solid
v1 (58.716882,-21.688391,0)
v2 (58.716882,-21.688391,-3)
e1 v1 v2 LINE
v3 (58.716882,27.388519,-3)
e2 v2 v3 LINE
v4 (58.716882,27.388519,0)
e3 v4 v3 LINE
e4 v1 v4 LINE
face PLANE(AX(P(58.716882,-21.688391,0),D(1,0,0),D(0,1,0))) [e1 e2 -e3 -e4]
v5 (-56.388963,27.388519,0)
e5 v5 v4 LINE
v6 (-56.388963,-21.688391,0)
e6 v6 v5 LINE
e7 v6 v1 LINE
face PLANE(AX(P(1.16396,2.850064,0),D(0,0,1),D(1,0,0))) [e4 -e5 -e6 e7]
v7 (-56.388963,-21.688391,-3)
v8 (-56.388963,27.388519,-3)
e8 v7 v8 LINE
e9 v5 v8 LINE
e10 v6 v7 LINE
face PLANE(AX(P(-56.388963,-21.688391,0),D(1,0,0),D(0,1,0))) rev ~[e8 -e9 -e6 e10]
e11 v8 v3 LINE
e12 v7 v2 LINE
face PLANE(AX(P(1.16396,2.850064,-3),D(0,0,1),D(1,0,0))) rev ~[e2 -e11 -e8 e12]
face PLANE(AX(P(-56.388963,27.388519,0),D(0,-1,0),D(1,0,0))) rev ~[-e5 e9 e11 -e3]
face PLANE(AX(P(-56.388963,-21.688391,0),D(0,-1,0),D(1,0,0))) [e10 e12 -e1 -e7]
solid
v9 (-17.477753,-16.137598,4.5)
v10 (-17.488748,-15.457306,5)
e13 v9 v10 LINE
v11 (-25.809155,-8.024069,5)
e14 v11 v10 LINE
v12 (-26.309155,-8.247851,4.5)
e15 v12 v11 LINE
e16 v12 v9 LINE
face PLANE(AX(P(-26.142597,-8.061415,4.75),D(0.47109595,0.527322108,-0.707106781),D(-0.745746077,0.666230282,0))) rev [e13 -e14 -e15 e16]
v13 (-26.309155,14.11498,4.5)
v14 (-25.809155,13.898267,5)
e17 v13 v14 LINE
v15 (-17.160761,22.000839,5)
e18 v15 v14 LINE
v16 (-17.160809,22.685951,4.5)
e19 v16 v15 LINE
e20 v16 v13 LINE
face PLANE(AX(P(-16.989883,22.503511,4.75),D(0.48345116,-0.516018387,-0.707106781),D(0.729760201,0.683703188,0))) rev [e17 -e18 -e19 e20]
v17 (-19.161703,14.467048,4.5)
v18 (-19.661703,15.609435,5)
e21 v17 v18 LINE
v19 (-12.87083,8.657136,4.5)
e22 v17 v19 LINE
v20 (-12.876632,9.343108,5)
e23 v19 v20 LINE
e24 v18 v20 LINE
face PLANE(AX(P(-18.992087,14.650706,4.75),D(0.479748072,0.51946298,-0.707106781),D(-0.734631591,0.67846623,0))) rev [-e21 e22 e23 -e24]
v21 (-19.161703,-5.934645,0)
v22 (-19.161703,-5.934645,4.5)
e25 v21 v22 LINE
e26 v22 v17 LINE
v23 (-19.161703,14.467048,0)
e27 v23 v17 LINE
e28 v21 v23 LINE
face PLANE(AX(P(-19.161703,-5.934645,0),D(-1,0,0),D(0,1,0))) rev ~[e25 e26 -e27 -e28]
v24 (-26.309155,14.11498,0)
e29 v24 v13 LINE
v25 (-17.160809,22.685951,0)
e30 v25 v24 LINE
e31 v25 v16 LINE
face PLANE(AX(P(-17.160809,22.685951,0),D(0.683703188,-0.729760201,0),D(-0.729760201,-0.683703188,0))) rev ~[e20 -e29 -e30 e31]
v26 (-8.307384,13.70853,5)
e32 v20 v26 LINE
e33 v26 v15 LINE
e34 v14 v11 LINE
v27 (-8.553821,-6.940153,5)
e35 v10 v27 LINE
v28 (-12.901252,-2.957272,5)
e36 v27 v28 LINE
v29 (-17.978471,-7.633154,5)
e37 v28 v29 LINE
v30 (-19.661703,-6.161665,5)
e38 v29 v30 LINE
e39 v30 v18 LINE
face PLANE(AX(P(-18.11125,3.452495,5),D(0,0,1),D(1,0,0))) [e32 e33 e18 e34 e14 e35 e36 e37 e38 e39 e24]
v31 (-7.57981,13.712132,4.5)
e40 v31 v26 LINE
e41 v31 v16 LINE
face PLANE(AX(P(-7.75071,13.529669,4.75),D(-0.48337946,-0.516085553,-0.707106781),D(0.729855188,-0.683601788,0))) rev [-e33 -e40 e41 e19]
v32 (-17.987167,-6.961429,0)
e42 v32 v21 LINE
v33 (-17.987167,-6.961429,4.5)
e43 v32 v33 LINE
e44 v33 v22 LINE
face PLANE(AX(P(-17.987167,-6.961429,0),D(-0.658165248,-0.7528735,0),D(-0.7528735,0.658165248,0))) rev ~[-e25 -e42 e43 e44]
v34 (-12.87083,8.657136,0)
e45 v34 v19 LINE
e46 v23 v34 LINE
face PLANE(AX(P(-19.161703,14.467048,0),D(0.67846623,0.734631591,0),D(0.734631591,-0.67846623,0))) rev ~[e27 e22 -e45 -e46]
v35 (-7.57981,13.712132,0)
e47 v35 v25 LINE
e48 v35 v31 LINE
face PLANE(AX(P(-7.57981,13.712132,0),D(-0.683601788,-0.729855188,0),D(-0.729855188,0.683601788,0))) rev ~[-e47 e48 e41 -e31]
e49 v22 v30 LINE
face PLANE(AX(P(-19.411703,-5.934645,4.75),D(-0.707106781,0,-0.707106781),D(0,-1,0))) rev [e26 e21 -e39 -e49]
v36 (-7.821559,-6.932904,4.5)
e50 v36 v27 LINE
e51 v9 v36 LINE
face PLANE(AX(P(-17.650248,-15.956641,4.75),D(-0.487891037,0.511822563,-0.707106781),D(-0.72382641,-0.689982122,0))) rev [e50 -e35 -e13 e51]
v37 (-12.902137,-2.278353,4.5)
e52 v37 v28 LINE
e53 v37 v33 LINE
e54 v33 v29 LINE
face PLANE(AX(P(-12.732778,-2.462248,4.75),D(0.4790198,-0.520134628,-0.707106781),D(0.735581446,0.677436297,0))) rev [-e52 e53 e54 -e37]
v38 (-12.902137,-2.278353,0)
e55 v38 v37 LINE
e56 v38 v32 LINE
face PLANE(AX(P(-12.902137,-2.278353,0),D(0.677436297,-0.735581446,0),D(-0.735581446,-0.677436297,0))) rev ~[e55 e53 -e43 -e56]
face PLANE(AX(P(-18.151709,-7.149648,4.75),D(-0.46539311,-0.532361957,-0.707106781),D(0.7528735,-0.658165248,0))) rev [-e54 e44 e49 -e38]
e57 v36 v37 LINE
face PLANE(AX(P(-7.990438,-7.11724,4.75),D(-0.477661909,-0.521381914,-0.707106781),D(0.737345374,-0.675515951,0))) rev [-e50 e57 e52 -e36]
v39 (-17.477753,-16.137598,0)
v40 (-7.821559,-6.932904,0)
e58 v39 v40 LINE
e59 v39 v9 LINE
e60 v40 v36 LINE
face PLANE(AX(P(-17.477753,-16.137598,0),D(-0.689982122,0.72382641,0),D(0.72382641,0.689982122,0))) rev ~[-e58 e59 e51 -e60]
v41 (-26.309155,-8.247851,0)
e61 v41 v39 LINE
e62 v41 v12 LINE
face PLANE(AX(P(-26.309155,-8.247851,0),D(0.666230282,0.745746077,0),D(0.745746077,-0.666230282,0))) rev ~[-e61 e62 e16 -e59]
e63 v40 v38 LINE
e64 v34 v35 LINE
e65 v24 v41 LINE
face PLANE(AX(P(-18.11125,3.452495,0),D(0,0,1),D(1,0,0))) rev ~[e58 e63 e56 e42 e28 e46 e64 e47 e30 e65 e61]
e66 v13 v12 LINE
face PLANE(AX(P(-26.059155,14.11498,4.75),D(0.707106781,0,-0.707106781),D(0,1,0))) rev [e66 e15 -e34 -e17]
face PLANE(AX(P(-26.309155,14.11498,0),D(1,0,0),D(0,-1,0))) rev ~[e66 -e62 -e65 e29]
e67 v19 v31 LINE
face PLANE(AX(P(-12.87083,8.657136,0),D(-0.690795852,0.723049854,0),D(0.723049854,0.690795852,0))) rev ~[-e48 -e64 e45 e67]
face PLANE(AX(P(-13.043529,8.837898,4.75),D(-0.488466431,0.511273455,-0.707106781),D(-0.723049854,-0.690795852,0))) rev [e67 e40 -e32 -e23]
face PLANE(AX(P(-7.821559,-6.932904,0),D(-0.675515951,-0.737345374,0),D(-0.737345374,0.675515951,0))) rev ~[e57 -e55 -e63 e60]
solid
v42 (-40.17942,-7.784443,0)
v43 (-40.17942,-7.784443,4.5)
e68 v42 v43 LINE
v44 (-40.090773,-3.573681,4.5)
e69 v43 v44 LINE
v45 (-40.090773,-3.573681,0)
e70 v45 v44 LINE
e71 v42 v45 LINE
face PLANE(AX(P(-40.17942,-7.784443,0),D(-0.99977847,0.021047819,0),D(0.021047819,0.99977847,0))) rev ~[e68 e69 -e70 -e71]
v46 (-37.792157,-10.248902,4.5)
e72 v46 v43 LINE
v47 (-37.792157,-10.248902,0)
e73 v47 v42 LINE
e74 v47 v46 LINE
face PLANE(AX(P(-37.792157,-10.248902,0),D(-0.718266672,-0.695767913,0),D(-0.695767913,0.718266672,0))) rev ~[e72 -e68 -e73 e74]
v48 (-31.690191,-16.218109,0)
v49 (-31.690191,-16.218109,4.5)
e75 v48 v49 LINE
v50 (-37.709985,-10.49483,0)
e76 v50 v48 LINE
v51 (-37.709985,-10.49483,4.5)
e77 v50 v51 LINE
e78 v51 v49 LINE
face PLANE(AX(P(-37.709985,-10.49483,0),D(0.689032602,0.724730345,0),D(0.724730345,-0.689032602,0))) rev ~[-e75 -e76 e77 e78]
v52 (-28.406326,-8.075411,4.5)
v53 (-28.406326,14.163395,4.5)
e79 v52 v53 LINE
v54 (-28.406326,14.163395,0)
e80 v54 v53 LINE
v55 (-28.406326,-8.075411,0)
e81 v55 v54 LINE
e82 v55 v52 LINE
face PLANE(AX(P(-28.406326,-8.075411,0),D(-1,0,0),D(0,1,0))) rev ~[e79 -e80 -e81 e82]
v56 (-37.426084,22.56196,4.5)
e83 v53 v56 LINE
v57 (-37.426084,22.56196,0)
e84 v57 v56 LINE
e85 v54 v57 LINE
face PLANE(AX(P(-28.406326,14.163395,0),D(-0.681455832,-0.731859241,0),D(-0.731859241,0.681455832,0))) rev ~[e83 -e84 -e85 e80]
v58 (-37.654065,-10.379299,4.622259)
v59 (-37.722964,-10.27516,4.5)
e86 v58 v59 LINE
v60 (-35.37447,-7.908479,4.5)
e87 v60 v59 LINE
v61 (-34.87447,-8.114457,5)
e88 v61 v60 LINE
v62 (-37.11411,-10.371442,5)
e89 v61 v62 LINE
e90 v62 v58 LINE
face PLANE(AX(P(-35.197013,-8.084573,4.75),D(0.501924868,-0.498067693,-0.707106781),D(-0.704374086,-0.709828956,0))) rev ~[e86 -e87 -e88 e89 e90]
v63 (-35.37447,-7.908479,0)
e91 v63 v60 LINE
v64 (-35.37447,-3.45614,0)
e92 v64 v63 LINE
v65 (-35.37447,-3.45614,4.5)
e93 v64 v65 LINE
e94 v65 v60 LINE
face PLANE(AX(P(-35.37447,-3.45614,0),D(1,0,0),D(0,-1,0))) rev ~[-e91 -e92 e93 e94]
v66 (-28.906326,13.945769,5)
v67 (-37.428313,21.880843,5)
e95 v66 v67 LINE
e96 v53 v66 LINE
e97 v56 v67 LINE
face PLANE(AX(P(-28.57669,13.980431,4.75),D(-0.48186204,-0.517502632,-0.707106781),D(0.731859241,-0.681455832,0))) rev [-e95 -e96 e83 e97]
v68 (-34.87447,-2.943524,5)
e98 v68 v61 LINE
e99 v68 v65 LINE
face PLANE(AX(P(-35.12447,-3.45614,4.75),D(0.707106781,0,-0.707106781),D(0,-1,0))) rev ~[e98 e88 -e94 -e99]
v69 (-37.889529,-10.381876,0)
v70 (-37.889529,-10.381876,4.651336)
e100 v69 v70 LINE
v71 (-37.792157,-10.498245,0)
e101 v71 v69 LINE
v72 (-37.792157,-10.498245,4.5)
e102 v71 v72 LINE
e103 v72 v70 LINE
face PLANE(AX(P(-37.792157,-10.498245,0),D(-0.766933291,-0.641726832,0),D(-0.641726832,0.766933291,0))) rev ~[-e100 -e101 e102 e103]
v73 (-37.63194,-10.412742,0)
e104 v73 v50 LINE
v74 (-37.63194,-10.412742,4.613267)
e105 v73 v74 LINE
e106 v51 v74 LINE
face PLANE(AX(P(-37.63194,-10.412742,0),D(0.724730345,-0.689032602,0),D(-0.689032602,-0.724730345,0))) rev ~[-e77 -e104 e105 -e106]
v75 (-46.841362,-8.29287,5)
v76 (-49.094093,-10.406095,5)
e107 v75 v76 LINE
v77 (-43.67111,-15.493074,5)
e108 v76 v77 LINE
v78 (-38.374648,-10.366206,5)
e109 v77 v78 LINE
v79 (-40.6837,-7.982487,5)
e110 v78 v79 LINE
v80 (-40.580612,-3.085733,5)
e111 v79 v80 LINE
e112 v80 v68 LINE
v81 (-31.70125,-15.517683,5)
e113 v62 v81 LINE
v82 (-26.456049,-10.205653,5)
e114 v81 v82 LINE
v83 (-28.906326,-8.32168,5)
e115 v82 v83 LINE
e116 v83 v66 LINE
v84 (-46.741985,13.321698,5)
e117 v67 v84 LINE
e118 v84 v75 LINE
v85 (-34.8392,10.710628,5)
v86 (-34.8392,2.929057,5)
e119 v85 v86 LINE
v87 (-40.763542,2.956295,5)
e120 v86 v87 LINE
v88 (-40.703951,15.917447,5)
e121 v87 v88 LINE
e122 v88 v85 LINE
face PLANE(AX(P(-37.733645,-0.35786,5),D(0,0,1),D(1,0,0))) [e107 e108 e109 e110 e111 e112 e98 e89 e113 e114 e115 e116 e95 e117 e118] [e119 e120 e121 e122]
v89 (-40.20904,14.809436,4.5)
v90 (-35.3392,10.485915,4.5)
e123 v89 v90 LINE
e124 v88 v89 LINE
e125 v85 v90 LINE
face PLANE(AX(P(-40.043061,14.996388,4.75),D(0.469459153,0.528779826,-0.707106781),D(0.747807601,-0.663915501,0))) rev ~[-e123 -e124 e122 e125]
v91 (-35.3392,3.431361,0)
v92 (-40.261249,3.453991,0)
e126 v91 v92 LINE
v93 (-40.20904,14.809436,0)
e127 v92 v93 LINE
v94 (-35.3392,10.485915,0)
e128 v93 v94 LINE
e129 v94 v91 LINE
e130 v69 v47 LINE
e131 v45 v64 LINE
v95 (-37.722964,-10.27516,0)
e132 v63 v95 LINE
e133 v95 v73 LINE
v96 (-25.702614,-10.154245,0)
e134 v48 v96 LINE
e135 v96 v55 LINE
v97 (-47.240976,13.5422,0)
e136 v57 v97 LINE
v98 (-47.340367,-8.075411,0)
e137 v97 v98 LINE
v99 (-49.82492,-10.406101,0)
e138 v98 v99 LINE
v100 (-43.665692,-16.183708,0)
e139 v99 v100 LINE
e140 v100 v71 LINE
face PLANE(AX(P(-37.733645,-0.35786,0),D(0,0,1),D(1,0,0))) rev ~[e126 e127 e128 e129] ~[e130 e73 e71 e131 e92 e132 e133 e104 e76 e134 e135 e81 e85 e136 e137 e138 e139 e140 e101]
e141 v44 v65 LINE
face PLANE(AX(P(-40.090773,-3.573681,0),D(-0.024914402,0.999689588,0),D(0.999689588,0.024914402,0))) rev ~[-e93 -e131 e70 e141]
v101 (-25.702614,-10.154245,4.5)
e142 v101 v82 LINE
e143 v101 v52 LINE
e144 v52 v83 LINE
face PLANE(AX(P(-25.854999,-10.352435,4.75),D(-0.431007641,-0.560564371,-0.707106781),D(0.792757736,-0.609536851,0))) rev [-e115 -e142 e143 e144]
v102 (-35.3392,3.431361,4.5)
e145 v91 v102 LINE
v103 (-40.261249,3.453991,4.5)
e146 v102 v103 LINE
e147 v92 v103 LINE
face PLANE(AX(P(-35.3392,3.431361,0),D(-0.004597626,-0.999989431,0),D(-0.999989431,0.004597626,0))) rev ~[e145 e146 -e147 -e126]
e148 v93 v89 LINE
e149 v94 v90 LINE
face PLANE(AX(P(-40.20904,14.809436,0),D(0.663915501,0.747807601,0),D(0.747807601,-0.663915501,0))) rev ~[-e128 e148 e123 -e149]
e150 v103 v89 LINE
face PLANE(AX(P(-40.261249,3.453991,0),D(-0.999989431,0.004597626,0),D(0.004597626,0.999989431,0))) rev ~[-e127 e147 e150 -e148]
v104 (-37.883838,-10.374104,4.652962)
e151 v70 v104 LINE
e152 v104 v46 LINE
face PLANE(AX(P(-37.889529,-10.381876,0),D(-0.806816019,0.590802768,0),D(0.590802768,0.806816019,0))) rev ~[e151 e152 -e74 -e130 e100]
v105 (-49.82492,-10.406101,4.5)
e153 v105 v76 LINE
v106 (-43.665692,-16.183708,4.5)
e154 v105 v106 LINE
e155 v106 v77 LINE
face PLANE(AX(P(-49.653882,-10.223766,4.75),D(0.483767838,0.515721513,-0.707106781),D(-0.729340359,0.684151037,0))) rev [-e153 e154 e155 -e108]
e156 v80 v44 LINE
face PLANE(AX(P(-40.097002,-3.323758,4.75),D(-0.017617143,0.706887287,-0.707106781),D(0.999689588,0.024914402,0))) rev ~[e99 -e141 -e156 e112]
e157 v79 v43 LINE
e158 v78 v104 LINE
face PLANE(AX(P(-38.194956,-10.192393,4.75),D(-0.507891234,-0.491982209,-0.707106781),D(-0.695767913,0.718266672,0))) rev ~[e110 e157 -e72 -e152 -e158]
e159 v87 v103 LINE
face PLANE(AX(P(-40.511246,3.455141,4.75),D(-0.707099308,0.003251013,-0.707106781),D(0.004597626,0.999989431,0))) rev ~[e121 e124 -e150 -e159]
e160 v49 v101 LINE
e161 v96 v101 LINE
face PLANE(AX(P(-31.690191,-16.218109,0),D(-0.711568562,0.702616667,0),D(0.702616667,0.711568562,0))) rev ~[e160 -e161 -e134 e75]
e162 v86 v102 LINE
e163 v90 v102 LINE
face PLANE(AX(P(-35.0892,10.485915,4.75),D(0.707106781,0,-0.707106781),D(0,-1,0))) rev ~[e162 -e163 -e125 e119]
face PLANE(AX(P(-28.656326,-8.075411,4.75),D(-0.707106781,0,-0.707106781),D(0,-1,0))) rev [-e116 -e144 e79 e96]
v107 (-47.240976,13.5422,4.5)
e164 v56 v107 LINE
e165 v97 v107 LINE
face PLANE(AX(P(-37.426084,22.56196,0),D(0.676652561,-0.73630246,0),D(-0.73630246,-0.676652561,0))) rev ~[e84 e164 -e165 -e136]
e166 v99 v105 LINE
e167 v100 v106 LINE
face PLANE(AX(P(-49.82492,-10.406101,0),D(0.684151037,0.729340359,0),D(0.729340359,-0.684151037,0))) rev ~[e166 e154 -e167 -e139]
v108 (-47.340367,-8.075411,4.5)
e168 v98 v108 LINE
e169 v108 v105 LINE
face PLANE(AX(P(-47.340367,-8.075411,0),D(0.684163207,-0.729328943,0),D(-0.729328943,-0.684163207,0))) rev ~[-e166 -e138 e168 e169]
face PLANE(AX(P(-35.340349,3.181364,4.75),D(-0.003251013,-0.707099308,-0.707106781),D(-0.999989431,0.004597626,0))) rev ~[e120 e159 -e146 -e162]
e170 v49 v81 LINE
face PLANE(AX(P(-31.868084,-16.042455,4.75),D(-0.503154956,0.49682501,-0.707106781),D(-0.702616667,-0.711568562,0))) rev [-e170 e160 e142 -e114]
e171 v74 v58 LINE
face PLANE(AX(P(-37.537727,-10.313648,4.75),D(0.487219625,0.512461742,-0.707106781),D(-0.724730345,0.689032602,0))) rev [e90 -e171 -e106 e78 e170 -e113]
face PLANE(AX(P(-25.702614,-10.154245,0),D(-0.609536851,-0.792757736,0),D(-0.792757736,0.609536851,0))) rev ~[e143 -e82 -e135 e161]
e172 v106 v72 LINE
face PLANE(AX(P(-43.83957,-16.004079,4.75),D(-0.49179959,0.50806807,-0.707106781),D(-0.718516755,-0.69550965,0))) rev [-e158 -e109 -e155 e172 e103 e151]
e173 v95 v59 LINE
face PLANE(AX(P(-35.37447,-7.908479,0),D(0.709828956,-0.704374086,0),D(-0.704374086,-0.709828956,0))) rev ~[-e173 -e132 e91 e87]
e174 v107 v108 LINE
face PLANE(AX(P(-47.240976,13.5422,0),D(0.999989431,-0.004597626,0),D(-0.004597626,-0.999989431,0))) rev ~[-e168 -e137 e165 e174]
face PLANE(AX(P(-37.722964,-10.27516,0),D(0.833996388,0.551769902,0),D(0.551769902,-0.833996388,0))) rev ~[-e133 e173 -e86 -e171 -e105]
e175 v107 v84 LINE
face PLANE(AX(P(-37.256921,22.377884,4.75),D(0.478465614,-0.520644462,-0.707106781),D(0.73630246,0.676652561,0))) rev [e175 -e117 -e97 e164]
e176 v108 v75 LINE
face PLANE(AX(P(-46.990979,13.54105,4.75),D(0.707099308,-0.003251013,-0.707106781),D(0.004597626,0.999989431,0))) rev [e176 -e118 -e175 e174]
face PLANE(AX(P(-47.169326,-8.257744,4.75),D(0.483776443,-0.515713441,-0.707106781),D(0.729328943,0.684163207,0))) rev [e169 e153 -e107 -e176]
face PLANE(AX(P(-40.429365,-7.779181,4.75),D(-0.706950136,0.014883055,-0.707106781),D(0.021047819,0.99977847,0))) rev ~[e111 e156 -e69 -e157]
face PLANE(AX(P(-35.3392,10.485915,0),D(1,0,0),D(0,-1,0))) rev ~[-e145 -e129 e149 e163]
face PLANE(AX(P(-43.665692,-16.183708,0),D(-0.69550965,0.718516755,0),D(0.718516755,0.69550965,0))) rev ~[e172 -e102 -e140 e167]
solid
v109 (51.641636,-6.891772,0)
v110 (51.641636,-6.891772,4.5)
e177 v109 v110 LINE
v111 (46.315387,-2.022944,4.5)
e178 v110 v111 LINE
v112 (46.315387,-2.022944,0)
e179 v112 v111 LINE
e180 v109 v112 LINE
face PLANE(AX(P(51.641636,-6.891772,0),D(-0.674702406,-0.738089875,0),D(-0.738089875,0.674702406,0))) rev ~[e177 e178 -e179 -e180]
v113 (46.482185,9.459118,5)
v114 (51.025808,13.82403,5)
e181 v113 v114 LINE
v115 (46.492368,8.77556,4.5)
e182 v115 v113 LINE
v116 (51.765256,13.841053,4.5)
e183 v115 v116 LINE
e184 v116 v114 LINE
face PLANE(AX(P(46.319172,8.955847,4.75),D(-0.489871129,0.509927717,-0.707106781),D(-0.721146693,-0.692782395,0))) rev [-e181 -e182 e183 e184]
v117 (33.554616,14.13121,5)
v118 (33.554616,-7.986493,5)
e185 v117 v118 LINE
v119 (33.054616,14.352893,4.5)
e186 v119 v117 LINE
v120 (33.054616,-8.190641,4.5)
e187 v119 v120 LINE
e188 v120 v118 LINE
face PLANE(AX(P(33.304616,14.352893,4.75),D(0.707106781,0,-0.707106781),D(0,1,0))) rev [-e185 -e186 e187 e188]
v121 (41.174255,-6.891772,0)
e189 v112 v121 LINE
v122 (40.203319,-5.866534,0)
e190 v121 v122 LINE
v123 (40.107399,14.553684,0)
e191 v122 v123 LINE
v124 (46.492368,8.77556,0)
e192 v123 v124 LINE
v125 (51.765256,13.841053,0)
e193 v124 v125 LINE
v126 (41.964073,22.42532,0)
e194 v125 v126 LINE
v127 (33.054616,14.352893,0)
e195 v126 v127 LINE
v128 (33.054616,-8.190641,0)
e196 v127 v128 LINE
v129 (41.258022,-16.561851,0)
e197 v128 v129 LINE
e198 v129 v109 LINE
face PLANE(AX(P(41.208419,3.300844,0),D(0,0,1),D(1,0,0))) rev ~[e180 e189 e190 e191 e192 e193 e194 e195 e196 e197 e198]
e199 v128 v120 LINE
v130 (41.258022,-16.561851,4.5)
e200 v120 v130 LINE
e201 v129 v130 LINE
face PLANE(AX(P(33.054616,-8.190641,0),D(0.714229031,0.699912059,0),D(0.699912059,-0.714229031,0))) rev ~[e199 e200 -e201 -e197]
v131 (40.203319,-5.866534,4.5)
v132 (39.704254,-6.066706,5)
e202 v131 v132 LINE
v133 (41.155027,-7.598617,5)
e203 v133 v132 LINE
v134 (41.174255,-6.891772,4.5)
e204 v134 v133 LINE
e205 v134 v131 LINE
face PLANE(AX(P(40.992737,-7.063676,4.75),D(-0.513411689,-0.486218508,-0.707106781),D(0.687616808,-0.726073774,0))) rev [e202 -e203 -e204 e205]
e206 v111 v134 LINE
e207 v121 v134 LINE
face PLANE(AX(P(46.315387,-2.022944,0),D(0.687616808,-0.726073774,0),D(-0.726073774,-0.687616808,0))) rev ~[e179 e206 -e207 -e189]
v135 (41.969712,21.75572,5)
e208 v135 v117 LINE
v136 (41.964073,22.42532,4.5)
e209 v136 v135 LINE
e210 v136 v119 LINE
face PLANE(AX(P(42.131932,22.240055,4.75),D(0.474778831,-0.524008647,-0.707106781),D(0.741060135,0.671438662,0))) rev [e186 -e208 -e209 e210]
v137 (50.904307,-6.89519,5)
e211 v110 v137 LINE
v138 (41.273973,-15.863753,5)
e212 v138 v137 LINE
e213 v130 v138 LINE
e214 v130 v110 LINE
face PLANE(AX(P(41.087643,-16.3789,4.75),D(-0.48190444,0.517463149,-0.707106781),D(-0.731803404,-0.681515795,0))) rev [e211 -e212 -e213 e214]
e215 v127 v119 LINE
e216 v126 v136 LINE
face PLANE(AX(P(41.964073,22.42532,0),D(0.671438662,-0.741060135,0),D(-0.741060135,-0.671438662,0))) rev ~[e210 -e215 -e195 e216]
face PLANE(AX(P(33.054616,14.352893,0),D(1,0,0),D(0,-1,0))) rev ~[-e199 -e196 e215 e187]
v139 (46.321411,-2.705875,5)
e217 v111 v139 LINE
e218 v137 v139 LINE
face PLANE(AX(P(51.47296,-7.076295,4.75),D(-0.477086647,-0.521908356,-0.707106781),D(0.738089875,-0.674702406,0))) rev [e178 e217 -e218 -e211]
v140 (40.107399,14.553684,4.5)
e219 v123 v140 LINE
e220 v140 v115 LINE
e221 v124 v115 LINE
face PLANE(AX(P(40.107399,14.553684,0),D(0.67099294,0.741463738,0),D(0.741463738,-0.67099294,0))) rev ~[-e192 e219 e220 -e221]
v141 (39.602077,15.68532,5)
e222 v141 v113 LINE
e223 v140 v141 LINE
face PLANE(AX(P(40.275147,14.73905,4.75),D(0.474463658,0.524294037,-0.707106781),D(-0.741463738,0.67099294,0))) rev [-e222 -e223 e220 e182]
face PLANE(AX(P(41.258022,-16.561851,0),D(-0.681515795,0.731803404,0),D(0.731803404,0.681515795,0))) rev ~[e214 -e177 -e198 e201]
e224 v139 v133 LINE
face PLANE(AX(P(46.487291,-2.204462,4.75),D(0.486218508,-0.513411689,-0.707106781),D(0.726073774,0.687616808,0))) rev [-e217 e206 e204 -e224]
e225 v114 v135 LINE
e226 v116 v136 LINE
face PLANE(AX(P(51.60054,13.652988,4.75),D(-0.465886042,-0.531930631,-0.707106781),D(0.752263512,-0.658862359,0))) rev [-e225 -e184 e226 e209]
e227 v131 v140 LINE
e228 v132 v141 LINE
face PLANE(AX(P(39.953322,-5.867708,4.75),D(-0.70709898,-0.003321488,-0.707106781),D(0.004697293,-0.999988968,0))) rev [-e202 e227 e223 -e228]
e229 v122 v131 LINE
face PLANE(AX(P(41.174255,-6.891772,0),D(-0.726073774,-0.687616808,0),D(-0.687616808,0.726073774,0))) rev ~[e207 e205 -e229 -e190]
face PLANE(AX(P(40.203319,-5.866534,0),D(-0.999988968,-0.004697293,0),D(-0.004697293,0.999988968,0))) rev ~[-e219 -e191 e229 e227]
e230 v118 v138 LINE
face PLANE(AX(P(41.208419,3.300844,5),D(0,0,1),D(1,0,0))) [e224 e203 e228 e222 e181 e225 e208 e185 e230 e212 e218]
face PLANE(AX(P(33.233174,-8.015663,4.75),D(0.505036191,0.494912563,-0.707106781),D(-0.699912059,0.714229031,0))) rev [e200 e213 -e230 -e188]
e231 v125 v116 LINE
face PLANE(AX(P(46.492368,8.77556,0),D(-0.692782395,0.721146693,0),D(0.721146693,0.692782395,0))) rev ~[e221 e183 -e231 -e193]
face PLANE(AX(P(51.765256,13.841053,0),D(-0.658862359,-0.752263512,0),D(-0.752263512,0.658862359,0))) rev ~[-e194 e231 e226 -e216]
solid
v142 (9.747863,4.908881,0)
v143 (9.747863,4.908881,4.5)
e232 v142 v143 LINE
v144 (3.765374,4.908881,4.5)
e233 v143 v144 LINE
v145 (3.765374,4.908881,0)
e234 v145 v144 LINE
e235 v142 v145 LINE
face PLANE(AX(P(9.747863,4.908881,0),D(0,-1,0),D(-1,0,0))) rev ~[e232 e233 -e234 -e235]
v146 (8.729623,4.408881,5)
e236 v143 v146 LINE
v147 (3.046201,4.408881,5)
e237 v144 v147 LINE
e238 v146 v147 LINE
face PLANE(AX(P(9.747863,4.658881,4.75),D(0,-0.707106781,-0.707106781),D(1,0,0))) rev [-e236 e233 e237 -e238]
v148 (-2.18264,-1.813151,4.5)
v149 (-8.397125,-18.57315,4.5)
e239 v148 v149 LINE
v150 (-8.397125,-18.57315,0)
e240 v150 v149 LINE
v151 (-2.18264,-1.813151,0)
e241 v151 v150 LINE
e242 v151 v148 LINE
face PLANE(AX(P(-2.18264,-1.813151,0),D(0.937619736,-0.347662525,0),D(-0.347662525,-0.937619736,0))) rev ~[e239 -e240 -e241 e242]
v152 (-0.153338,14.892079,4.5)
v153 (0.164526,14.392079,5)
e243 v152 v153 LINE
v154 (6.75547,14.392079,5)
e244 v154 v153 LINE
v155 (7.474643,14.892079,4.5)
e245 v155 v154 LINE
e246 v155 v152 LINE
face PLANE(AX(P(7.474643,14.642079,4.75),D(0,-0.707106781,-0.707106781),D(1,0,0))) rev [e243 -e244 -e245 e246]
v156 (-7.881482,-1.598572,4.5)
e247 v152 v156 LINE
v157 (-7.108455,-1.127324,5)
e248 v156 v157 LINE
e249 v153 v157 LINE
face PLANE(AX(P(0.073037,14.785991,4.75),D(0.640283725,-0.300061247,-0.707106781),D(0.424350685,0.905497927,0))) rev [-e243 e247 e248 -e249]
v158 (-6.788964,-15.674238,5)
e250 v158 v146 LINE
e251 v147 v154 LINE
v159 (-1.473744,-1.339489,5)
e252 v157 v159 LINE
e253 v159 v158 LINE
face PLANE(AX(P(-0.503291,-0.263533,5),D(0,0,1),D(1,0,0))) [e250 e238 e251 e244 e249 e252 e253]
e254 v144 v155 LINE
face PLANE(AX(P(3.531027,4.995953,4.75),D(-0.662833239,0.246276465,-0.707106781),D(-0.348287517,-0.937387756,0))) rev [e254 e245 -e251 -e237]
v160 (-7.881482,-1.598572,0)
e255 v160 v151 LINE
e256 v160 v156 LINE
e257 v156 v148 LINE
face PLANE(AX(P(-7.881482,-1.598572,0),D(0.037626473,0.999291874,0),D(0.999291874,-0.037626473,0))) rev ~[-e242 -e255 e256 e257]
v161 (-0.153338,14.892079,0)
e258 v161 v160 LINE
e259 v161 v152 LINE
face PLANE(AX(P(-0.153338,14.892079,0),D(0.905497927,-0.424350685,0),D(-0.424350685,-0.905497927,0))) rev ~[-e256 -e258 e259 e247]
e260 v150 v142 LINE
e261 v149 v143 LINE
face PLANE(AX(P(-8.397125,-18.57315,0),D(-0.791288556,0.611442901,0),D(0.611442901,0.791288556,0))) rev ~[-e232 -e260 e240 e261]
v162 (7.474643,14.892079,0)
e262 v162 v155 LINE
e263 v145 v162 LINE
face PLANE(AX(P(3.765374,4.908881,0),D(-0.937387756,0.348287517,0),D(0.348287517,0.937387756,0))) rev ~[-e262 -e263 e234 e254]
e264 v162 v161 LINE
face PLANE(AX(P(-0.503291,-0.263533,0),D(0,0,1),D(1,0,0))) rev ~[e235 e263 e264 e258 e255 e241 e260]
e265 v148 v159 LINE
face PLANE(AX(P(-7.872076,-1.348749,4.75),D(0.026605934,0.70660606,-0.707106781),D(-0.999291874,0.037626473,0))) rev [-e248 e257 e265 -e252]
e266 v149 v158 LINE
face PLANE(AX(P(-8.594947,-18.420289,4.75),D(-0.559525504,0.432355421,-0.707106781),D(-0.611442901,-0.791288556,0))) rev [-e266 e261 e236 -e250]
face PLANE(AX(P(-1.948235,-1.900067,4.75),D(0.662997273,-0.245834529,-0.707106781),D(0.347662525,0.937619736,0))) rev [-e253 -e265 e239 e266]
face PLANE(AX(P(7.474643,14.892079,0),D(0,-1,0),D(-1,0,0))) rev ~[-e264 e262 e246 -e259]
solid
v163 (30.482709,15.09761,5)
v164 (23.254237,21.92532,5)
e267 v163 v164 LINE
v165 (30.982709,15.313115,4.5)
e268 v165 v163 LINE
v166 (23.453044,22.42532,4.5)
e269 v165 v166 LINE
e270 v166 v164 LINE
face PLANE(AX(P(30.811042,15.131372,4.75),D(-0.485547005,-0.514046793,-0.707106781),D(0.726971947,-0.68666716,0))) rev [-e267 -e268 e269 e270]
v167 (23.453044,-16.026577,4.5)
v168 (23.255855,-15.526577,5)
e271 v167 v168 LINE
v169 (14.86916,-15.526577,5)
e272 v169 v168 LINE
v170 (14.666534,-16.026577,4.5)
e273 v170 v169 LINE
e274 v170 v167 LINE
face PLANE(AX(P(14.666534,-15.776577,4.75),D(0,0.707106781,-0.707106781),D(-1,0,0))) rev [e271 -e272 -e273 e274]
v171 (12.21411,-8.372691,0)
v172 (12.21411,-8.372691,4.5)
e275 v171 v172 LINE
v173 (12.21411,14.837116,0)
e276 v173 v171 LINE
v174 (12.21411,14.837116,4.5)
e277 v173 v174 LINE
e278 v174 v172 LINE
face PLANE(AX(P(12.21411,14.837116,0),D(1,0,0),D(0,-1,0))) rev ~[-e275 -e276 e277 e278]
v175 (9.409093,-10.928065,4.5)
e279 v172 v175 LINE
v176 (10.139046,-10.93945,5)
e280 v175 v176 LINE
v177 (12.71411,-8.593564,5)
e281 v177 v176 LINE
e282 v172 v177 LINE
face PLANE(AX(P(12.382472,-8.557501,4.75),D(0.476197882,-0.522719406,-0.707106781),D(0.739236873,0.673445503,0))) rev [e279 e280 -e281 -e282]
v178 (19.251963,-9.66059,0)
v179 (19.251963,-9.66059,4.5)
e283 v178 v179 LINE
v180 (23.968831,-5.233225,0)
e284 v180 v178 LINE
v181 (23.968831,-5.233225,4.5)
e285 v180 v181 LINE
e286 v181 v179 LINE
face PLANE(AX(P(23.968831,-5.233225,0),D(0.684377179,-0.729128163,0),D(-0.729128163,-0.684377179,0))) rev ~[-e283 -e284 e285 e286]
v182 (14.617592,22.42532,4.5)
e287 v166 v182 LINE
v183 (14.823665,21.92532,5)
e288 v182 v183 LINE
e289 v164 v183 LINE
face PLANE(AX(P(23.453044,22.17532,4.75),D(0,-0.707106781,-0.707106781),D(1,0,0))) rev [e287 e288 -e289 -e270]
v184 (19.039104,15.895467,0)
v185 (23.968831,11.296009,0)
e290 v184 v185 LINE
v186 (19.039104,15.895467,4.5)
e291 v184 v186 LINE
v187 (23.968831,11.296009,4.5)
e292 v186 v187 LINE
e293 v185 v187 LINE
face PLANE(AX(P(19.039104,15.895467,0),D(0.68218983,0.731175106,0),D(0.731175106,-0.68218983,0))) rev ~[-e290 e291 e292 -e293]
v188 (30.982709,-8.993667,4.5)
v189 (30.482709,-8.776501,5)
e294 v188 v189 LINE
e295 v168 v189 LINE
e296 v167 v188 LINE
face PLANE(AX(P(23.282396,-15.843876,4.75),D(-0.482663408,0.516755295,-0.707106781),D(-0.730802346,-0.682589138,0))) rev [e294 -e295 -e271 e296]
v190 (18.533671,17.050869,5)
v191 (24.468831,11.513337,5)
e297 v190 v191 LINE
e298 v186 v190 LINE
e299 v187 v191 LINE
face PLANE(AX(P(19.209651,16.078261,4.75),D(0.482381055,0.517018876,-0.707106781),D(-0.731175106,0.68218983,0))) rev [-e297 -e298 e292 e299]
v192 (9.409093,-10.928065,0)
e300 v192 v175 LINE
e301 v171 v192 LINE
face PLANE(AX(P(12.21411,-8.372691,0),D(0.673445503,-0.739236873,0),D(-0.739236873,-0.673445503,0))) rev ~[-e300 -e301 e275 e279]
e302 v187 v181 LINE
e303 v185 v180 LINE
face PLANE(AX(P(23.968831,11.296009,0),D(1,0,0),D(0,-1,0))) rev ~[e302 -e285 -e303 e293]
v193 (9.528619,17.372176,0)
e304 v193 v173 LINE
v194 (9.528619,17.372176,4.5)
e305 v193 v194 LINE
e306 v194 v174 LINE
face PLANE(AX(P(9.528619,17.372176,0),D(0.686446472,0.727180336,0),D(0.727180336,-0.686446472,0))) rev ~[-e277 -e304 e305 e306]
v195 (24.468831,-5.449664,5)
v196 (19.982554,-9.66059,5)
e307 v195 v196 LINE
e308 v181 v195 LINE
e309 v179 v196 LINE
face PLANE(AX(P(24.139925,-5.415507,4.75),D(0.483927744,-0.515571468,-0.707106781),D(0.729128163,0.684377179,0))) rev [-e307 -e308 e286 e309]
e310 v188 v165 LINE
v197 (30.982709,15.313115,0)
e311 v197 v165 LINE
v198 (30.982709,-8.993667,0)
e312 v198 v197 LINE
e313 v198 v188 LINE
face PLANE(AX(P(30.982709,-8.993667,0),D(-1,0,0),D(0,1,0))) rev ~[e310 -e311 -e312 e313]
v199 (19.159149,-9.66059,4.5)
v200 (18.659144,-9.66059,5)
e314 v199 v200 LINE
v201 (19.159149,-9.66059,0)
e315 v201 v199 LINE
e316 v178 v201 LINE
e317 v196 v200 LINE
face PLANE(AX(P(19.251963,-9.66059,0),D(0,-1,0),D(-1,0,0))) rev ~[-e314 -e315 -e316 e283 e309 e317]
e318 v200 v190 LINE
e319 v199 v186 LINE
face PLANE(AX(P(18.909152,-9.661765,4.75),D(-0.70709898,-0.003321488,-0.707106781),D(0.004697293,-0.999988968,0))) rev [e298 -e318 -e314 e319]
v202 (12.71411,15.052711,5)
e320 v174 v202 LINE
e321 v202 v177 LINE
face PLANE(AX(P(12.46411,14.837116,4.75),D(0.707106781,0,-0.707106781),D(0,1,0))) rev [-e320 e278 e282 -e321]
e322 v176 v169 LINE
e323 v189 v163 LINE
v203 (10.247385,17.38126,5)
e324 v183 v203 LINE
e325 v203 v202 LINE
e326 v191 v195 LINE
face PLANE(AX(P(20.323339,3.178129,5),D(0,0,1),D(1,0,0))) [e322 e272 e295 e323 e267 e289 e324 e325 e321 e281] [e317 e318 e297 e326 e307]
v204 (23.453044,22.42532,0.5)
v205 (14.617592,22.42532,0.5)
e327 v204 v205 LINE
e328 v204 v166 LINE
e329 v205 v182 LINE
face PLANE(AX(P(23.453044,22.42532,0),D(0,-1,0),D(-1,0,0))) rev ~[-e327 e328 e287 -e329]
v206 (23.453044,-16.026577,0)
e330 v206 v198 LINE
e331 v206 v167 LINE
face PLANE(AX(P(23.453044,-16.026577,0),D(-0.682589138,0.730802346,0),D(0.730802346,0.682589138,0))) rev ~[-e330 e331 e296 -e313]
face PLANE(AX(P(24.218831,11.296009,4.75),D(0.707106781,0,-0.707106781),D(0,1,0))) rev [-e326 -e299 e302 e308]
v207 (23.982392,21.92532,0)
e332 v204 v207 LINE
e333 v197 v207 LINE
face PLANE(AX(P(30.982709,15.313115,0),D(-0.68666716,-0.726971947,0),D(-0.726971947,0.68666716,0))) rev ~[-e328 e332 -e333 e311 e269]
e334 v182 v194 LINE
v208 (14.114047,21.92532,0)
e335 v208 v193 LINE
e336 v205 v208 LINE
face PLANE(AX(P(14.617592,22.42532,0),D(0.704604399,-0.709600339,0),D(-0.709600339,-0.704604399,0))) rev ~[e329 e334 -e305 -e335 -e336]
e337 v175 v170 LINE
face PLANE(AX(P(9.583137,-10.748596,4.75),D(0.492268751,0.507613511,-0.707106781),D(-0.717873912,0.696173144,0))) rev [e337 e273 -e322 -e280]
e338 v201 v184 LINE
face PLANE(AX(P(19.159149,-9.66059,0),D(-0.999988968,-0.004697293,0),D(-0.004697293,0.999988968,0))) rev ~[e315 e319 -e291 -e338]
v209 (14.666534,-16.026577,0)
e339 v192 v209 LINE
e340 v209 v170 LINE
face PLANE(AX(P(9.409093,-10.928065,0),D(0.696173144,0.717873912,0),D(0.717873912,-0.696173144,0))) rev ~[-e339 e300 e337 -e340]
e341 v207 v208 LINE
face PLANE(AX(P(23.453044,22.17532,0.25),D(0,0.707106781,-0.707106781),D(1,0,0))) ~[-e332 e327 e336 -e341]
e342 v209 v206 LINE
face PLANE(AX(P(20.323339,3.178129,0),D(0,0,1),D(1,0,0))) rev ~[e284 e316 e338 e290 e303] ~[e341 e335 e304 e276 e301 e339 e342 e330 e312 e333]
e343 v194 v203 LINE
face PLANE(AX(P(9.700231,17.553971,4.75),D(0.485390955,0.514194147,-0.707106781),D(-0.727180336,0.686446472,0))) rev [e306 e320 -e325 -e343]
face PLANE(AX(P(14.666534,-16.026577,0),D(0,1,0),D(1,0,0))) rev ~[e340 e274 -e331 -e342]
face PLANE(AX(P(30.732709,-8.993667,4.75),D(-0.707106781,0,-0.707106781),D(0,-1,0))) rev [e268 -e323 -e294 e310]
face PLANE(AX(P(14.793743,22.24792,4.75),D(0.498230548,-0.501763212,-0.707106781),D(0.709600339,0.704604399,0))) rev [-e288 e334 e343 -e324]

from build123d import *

# Parameters (mm, degrees)
F1_DEPTH  = 5
F2_SIZE   = 0.5
F3_SIZE   = 0.5
F4_SIZE   = 0.5
F4_2_SIZE = 0.5
F4_3_SIZE = 0.5
F5_W      = 115.1058450341
F5_H      = 49.0769091994
F6_DEPTH  = 3


with BuildPart() as f1:
    # F0 (on Top) → F1 (new body)
    with BuildSketch(Plane.XY):
        Polygon((-37.42608428, 22.5619599223), (-47.2409762442, 13.5421995074), (-47.3403669894, -8.0754114315), (-49.8249195516, -10.4061011225), (-43.6656922102, -16.1837078631), (-37.7921573818, -10.4982452467), (-37.8895290196, -10.3818755597), (-37.7921573818, -10.2489022538), (-40.1794202626, -7.7844434418), (-40.0907732546, -3.5736807622), (-35.3744700551, -3.4561404003), (-35.3744700551, -7.9084793106), (-37.7229635754, -10.2751602206), (-37.6319399832, -10.4127417504), (-37.7099849284, -10.4948300868), (-31.6901914775, -16.2181090564), (-25.7026143372, -10.1542454213), (-28.4063257277, -8.0754114315), (-28.4063257277, 14.1633953899), align=None)
        Polygon((-40.2612486885, 3.4539912895), (-40.2090400457, 14.8094361648), (-35.3391999321, 10.4859145358), (-35.3391999321, 3.43136131), align=None, mode=Mode.SUBTRACT)
    extrude(amount=F1_DEPTH)

    # F3 (call 1 of 3: OpenCascade refuses the feature's edges together)
    f3_edges = [f1.edges().sort_by_distance(p)[0] for p in [
        (-42.33353, 18.05208, 5),
        (-32.916205, 18.362678, 5),
        (-28.406326, 3.043992, 5),
        (-27.05447, -9.114828, 5),
        (-28.696403, -13.186177, 5),
        (-34.700088, -13.35647, 5),
        (-47.290672, 2.733394, 5),
        (-48.582643, -9.240756, 5),
        (-46.745306, -13.294904, 5),
        (-40.728925, -13.340977, 5),
    ]]
    chamfer(f3_edges, length=F3_SIZE)

    # F3#2 (call 2 of 3)
    f3_2_edges = [f1.edges().sort_by_distance(p)[0] for p in [
        (-38.985789, -9.016673, 5),
        (-40.135097, -5.679062, 5),
        (-37.732622, -3.514911, 5),
        (-35.37447, -5.68231, 5),
        (-36.548717, -9.09182, 5),
    ]]
    chamfer(f3_2_edges, length=F3_SIZE)

    # F3#3 (call 3 of 3)
    f3_3_edges = [f1.edges().sort_by_distance(p)[0] for p in [
        (-35.3392, 6.958638, 5),
        (-37.77412, 12.647675, 5),
        (-40.235144, 9.131714, 5),
        (-37.800224, 3.442676, 5),
    ]]
    chamfer(f3_3_edges, length=F3_SIZE)


with BuildPart() as f1b:
    # F0 (on Top) → F1, piece 2 (new body)
    with BuildSketch(Plane.XY):
        Polygon((-19.161703065, 14.4670484588), (-12.8708295524, 8.6571360007), (-7.5798099861, 13.7121323496), (-17.1608086675, 22.685950622), (-26.3091549277, 14.1149796546), (-26.3091549277, -8.2478513941), (-17.4777526408, -16.1375980824), (-7.8215589747, -6.9329035468), (-12.9021368921, -2.2783528548), (-17.9871674627, -6.9614294916), (-19.161703065, -5.9346454218), align=None)
    extrude(amount=F1_DEPTH)

    # F2
    f2_edges = [f1b.edges().sort_by_distance(p)[0] for p in [
        (-21.734982, 18.400465, 5),
        (-12.370309, 18.199041, 5),
        (-10.22532, 11.184634, 5),
        (-16.016266, 11.562092, 5),
        (-19.161703, 4.266202, 5),
        (-18.574435, -6.448037, 5),
        (-15.444652, -4.619891, 5),
        (-10.361848, -4.605628, 5),
        (-12.649656, -11.535251, 5),
        (-21.893454, -12.192725, 5),
        (-26.309155, 2.933564, 5),
    ]]
    chamfer(f2_edges, length=F2_SIZE)


with BuildPart() as f1c:
    # F0 (on Top) → F1, piece 3 (new body)
    with BuildSketch(Plane.XY):
        Polygon((3.7653737236, 4.9088806845), (7.4746427126, 14.8920789361), (-0.1533375762, 14.8920789361), (-7.8814821318, -1.59857166), (-2.1826399025, -1.8131509423), (-8.3971247077, -18.5731500387), (9.7478628159, 4.9088806845), align=None)
    extrude(amount=F1_DEPTH)

    # F4
    f4_edges = [f1c.edges().sort_by_distance(p)[0] for p in [
        (-4.01741, 6.646754, 5),
        (6.756618, 4.908881, 5),
        (0.675369, -6.832135, 5),
        (-5.289882, -10.19315, 5),
        (-5.032061, -1.705861, 5),
        (5.620008, 9.90048, 5),
        (3.660653, 14.892079, 5),
    ]]
    chamfer(f4_edges, length=F4_SIZE)


with BuildPart() as f1d:
    # F0 (on Top) → F1, piece 4 (new body)
    with BuildSketch(Plane.XY):
        Polygon((23.4530437738, 22.4253199995), (14.6175920963, 22.4253199995), (9.5286192372, 17.3721760511), (12.2141102329, 14.837116003), (12.2141102329, -8.37269146), (9.409093298, -10.9280645847), (14.6665340289, -16.0265769809), (23.4530437738, -16.0265769809), (30.9827085584, -8.9936666191), (30.9827085584, 15.3131149709), align=None)
        Polygon((19.1591493785, -9.66059044), (19.0391037613, 15.8954672515), (23.9688307047, 11.2960087135), (23.9688307047, -5.2332254127), (19.2519631237, -9.66059044), align=None, mode=Mode.SUBTRACT)
    extrude(amount=F1_DEPTH)

    # F4#2
    f4_2_edges = [f1d.edges().sort_by_distance(p)[0] for p in [
        (12.21411, 3.232212, 5),
        (10.871365, 16.104646, 5),
        (12.073106, 19.898748, 5),
        (19.035318, 22.42532, 0),
        (27.217876, 18.869217, 5),
        (30.982709, 3.159724, 5),
        (27.217876, -12.510122, 5),
        (19.059789, -16.026577, 5),
        (12.037814, -13.477321, 5),
        (19.099127, 3.117438, 5),
        (21.610397, -7.446908, 5),
        (23.968831, 3.031392, 5),
        (21.503967, 13.595738, 5),
        (19.035318, 22.42532, 5),
        (10.811602, -9.650378, 5),
    ]]
    chamfer(f4_2_edges, length=F4_2_SIZE)


with BuildPart() as f1e:
    # F0 (on Top) → F1, piece 5 (new body)
    with BuildSketch(Plane.XY):
        Polygon((46.4923679829, 8.7755601853), (51.76525563, 13.841053471), (41.9640727341, 22.4253199995), (33.0546163023, 14.3528934568), (33.0546163023, -8.1906411797), (41.2580221891, -16.5618509054), (51.6416355968, -6.891772151), (46.3153868914, -2.0229439251), (41.1742553115, -6.891772151), (40.203319401, -5.8665338308), (40.1073985943, 14.55368414), align=None)
    extrude(amount=F1_DEPTH)

    # F4#3
    f4_3_edges = [f1e.edges().sort_by_distance(p)[0] for p in [
        (33.054616, 3.081126, 5),
        (37.509345, 18.389107, 5),
        (46.864664, 18.133187, 5),
        (49.128812, 11.308307, 5),
        (43.299883, 11.664622, 5),
        (40.155359, 4.343575, 5),
        (40.688787, -6.379153, 5),
        (43.744821, -4.457358, 5),
        (48.978511, -4.457358, 5),
        (46.449829, -11.726812, 5),
        (37.156319, -12.376246, 5),
    ]]
    chamfer(f4_3_edges, length=F4_3_SIZE)


with BuildPart() as f6:
    # F5 (on Top) → F6 (new body)
    with BuildSketch(Plane.XY):
        with Locations((1.1639595032, 2.8500640765)):
            Rectangle(F5_W, F5_H)
    extrude(amount=-F6_DEPTH)


solid = Compound([f1.part, f1b.part, f1c.part, f1d.part, f1e.part, f6.part])
